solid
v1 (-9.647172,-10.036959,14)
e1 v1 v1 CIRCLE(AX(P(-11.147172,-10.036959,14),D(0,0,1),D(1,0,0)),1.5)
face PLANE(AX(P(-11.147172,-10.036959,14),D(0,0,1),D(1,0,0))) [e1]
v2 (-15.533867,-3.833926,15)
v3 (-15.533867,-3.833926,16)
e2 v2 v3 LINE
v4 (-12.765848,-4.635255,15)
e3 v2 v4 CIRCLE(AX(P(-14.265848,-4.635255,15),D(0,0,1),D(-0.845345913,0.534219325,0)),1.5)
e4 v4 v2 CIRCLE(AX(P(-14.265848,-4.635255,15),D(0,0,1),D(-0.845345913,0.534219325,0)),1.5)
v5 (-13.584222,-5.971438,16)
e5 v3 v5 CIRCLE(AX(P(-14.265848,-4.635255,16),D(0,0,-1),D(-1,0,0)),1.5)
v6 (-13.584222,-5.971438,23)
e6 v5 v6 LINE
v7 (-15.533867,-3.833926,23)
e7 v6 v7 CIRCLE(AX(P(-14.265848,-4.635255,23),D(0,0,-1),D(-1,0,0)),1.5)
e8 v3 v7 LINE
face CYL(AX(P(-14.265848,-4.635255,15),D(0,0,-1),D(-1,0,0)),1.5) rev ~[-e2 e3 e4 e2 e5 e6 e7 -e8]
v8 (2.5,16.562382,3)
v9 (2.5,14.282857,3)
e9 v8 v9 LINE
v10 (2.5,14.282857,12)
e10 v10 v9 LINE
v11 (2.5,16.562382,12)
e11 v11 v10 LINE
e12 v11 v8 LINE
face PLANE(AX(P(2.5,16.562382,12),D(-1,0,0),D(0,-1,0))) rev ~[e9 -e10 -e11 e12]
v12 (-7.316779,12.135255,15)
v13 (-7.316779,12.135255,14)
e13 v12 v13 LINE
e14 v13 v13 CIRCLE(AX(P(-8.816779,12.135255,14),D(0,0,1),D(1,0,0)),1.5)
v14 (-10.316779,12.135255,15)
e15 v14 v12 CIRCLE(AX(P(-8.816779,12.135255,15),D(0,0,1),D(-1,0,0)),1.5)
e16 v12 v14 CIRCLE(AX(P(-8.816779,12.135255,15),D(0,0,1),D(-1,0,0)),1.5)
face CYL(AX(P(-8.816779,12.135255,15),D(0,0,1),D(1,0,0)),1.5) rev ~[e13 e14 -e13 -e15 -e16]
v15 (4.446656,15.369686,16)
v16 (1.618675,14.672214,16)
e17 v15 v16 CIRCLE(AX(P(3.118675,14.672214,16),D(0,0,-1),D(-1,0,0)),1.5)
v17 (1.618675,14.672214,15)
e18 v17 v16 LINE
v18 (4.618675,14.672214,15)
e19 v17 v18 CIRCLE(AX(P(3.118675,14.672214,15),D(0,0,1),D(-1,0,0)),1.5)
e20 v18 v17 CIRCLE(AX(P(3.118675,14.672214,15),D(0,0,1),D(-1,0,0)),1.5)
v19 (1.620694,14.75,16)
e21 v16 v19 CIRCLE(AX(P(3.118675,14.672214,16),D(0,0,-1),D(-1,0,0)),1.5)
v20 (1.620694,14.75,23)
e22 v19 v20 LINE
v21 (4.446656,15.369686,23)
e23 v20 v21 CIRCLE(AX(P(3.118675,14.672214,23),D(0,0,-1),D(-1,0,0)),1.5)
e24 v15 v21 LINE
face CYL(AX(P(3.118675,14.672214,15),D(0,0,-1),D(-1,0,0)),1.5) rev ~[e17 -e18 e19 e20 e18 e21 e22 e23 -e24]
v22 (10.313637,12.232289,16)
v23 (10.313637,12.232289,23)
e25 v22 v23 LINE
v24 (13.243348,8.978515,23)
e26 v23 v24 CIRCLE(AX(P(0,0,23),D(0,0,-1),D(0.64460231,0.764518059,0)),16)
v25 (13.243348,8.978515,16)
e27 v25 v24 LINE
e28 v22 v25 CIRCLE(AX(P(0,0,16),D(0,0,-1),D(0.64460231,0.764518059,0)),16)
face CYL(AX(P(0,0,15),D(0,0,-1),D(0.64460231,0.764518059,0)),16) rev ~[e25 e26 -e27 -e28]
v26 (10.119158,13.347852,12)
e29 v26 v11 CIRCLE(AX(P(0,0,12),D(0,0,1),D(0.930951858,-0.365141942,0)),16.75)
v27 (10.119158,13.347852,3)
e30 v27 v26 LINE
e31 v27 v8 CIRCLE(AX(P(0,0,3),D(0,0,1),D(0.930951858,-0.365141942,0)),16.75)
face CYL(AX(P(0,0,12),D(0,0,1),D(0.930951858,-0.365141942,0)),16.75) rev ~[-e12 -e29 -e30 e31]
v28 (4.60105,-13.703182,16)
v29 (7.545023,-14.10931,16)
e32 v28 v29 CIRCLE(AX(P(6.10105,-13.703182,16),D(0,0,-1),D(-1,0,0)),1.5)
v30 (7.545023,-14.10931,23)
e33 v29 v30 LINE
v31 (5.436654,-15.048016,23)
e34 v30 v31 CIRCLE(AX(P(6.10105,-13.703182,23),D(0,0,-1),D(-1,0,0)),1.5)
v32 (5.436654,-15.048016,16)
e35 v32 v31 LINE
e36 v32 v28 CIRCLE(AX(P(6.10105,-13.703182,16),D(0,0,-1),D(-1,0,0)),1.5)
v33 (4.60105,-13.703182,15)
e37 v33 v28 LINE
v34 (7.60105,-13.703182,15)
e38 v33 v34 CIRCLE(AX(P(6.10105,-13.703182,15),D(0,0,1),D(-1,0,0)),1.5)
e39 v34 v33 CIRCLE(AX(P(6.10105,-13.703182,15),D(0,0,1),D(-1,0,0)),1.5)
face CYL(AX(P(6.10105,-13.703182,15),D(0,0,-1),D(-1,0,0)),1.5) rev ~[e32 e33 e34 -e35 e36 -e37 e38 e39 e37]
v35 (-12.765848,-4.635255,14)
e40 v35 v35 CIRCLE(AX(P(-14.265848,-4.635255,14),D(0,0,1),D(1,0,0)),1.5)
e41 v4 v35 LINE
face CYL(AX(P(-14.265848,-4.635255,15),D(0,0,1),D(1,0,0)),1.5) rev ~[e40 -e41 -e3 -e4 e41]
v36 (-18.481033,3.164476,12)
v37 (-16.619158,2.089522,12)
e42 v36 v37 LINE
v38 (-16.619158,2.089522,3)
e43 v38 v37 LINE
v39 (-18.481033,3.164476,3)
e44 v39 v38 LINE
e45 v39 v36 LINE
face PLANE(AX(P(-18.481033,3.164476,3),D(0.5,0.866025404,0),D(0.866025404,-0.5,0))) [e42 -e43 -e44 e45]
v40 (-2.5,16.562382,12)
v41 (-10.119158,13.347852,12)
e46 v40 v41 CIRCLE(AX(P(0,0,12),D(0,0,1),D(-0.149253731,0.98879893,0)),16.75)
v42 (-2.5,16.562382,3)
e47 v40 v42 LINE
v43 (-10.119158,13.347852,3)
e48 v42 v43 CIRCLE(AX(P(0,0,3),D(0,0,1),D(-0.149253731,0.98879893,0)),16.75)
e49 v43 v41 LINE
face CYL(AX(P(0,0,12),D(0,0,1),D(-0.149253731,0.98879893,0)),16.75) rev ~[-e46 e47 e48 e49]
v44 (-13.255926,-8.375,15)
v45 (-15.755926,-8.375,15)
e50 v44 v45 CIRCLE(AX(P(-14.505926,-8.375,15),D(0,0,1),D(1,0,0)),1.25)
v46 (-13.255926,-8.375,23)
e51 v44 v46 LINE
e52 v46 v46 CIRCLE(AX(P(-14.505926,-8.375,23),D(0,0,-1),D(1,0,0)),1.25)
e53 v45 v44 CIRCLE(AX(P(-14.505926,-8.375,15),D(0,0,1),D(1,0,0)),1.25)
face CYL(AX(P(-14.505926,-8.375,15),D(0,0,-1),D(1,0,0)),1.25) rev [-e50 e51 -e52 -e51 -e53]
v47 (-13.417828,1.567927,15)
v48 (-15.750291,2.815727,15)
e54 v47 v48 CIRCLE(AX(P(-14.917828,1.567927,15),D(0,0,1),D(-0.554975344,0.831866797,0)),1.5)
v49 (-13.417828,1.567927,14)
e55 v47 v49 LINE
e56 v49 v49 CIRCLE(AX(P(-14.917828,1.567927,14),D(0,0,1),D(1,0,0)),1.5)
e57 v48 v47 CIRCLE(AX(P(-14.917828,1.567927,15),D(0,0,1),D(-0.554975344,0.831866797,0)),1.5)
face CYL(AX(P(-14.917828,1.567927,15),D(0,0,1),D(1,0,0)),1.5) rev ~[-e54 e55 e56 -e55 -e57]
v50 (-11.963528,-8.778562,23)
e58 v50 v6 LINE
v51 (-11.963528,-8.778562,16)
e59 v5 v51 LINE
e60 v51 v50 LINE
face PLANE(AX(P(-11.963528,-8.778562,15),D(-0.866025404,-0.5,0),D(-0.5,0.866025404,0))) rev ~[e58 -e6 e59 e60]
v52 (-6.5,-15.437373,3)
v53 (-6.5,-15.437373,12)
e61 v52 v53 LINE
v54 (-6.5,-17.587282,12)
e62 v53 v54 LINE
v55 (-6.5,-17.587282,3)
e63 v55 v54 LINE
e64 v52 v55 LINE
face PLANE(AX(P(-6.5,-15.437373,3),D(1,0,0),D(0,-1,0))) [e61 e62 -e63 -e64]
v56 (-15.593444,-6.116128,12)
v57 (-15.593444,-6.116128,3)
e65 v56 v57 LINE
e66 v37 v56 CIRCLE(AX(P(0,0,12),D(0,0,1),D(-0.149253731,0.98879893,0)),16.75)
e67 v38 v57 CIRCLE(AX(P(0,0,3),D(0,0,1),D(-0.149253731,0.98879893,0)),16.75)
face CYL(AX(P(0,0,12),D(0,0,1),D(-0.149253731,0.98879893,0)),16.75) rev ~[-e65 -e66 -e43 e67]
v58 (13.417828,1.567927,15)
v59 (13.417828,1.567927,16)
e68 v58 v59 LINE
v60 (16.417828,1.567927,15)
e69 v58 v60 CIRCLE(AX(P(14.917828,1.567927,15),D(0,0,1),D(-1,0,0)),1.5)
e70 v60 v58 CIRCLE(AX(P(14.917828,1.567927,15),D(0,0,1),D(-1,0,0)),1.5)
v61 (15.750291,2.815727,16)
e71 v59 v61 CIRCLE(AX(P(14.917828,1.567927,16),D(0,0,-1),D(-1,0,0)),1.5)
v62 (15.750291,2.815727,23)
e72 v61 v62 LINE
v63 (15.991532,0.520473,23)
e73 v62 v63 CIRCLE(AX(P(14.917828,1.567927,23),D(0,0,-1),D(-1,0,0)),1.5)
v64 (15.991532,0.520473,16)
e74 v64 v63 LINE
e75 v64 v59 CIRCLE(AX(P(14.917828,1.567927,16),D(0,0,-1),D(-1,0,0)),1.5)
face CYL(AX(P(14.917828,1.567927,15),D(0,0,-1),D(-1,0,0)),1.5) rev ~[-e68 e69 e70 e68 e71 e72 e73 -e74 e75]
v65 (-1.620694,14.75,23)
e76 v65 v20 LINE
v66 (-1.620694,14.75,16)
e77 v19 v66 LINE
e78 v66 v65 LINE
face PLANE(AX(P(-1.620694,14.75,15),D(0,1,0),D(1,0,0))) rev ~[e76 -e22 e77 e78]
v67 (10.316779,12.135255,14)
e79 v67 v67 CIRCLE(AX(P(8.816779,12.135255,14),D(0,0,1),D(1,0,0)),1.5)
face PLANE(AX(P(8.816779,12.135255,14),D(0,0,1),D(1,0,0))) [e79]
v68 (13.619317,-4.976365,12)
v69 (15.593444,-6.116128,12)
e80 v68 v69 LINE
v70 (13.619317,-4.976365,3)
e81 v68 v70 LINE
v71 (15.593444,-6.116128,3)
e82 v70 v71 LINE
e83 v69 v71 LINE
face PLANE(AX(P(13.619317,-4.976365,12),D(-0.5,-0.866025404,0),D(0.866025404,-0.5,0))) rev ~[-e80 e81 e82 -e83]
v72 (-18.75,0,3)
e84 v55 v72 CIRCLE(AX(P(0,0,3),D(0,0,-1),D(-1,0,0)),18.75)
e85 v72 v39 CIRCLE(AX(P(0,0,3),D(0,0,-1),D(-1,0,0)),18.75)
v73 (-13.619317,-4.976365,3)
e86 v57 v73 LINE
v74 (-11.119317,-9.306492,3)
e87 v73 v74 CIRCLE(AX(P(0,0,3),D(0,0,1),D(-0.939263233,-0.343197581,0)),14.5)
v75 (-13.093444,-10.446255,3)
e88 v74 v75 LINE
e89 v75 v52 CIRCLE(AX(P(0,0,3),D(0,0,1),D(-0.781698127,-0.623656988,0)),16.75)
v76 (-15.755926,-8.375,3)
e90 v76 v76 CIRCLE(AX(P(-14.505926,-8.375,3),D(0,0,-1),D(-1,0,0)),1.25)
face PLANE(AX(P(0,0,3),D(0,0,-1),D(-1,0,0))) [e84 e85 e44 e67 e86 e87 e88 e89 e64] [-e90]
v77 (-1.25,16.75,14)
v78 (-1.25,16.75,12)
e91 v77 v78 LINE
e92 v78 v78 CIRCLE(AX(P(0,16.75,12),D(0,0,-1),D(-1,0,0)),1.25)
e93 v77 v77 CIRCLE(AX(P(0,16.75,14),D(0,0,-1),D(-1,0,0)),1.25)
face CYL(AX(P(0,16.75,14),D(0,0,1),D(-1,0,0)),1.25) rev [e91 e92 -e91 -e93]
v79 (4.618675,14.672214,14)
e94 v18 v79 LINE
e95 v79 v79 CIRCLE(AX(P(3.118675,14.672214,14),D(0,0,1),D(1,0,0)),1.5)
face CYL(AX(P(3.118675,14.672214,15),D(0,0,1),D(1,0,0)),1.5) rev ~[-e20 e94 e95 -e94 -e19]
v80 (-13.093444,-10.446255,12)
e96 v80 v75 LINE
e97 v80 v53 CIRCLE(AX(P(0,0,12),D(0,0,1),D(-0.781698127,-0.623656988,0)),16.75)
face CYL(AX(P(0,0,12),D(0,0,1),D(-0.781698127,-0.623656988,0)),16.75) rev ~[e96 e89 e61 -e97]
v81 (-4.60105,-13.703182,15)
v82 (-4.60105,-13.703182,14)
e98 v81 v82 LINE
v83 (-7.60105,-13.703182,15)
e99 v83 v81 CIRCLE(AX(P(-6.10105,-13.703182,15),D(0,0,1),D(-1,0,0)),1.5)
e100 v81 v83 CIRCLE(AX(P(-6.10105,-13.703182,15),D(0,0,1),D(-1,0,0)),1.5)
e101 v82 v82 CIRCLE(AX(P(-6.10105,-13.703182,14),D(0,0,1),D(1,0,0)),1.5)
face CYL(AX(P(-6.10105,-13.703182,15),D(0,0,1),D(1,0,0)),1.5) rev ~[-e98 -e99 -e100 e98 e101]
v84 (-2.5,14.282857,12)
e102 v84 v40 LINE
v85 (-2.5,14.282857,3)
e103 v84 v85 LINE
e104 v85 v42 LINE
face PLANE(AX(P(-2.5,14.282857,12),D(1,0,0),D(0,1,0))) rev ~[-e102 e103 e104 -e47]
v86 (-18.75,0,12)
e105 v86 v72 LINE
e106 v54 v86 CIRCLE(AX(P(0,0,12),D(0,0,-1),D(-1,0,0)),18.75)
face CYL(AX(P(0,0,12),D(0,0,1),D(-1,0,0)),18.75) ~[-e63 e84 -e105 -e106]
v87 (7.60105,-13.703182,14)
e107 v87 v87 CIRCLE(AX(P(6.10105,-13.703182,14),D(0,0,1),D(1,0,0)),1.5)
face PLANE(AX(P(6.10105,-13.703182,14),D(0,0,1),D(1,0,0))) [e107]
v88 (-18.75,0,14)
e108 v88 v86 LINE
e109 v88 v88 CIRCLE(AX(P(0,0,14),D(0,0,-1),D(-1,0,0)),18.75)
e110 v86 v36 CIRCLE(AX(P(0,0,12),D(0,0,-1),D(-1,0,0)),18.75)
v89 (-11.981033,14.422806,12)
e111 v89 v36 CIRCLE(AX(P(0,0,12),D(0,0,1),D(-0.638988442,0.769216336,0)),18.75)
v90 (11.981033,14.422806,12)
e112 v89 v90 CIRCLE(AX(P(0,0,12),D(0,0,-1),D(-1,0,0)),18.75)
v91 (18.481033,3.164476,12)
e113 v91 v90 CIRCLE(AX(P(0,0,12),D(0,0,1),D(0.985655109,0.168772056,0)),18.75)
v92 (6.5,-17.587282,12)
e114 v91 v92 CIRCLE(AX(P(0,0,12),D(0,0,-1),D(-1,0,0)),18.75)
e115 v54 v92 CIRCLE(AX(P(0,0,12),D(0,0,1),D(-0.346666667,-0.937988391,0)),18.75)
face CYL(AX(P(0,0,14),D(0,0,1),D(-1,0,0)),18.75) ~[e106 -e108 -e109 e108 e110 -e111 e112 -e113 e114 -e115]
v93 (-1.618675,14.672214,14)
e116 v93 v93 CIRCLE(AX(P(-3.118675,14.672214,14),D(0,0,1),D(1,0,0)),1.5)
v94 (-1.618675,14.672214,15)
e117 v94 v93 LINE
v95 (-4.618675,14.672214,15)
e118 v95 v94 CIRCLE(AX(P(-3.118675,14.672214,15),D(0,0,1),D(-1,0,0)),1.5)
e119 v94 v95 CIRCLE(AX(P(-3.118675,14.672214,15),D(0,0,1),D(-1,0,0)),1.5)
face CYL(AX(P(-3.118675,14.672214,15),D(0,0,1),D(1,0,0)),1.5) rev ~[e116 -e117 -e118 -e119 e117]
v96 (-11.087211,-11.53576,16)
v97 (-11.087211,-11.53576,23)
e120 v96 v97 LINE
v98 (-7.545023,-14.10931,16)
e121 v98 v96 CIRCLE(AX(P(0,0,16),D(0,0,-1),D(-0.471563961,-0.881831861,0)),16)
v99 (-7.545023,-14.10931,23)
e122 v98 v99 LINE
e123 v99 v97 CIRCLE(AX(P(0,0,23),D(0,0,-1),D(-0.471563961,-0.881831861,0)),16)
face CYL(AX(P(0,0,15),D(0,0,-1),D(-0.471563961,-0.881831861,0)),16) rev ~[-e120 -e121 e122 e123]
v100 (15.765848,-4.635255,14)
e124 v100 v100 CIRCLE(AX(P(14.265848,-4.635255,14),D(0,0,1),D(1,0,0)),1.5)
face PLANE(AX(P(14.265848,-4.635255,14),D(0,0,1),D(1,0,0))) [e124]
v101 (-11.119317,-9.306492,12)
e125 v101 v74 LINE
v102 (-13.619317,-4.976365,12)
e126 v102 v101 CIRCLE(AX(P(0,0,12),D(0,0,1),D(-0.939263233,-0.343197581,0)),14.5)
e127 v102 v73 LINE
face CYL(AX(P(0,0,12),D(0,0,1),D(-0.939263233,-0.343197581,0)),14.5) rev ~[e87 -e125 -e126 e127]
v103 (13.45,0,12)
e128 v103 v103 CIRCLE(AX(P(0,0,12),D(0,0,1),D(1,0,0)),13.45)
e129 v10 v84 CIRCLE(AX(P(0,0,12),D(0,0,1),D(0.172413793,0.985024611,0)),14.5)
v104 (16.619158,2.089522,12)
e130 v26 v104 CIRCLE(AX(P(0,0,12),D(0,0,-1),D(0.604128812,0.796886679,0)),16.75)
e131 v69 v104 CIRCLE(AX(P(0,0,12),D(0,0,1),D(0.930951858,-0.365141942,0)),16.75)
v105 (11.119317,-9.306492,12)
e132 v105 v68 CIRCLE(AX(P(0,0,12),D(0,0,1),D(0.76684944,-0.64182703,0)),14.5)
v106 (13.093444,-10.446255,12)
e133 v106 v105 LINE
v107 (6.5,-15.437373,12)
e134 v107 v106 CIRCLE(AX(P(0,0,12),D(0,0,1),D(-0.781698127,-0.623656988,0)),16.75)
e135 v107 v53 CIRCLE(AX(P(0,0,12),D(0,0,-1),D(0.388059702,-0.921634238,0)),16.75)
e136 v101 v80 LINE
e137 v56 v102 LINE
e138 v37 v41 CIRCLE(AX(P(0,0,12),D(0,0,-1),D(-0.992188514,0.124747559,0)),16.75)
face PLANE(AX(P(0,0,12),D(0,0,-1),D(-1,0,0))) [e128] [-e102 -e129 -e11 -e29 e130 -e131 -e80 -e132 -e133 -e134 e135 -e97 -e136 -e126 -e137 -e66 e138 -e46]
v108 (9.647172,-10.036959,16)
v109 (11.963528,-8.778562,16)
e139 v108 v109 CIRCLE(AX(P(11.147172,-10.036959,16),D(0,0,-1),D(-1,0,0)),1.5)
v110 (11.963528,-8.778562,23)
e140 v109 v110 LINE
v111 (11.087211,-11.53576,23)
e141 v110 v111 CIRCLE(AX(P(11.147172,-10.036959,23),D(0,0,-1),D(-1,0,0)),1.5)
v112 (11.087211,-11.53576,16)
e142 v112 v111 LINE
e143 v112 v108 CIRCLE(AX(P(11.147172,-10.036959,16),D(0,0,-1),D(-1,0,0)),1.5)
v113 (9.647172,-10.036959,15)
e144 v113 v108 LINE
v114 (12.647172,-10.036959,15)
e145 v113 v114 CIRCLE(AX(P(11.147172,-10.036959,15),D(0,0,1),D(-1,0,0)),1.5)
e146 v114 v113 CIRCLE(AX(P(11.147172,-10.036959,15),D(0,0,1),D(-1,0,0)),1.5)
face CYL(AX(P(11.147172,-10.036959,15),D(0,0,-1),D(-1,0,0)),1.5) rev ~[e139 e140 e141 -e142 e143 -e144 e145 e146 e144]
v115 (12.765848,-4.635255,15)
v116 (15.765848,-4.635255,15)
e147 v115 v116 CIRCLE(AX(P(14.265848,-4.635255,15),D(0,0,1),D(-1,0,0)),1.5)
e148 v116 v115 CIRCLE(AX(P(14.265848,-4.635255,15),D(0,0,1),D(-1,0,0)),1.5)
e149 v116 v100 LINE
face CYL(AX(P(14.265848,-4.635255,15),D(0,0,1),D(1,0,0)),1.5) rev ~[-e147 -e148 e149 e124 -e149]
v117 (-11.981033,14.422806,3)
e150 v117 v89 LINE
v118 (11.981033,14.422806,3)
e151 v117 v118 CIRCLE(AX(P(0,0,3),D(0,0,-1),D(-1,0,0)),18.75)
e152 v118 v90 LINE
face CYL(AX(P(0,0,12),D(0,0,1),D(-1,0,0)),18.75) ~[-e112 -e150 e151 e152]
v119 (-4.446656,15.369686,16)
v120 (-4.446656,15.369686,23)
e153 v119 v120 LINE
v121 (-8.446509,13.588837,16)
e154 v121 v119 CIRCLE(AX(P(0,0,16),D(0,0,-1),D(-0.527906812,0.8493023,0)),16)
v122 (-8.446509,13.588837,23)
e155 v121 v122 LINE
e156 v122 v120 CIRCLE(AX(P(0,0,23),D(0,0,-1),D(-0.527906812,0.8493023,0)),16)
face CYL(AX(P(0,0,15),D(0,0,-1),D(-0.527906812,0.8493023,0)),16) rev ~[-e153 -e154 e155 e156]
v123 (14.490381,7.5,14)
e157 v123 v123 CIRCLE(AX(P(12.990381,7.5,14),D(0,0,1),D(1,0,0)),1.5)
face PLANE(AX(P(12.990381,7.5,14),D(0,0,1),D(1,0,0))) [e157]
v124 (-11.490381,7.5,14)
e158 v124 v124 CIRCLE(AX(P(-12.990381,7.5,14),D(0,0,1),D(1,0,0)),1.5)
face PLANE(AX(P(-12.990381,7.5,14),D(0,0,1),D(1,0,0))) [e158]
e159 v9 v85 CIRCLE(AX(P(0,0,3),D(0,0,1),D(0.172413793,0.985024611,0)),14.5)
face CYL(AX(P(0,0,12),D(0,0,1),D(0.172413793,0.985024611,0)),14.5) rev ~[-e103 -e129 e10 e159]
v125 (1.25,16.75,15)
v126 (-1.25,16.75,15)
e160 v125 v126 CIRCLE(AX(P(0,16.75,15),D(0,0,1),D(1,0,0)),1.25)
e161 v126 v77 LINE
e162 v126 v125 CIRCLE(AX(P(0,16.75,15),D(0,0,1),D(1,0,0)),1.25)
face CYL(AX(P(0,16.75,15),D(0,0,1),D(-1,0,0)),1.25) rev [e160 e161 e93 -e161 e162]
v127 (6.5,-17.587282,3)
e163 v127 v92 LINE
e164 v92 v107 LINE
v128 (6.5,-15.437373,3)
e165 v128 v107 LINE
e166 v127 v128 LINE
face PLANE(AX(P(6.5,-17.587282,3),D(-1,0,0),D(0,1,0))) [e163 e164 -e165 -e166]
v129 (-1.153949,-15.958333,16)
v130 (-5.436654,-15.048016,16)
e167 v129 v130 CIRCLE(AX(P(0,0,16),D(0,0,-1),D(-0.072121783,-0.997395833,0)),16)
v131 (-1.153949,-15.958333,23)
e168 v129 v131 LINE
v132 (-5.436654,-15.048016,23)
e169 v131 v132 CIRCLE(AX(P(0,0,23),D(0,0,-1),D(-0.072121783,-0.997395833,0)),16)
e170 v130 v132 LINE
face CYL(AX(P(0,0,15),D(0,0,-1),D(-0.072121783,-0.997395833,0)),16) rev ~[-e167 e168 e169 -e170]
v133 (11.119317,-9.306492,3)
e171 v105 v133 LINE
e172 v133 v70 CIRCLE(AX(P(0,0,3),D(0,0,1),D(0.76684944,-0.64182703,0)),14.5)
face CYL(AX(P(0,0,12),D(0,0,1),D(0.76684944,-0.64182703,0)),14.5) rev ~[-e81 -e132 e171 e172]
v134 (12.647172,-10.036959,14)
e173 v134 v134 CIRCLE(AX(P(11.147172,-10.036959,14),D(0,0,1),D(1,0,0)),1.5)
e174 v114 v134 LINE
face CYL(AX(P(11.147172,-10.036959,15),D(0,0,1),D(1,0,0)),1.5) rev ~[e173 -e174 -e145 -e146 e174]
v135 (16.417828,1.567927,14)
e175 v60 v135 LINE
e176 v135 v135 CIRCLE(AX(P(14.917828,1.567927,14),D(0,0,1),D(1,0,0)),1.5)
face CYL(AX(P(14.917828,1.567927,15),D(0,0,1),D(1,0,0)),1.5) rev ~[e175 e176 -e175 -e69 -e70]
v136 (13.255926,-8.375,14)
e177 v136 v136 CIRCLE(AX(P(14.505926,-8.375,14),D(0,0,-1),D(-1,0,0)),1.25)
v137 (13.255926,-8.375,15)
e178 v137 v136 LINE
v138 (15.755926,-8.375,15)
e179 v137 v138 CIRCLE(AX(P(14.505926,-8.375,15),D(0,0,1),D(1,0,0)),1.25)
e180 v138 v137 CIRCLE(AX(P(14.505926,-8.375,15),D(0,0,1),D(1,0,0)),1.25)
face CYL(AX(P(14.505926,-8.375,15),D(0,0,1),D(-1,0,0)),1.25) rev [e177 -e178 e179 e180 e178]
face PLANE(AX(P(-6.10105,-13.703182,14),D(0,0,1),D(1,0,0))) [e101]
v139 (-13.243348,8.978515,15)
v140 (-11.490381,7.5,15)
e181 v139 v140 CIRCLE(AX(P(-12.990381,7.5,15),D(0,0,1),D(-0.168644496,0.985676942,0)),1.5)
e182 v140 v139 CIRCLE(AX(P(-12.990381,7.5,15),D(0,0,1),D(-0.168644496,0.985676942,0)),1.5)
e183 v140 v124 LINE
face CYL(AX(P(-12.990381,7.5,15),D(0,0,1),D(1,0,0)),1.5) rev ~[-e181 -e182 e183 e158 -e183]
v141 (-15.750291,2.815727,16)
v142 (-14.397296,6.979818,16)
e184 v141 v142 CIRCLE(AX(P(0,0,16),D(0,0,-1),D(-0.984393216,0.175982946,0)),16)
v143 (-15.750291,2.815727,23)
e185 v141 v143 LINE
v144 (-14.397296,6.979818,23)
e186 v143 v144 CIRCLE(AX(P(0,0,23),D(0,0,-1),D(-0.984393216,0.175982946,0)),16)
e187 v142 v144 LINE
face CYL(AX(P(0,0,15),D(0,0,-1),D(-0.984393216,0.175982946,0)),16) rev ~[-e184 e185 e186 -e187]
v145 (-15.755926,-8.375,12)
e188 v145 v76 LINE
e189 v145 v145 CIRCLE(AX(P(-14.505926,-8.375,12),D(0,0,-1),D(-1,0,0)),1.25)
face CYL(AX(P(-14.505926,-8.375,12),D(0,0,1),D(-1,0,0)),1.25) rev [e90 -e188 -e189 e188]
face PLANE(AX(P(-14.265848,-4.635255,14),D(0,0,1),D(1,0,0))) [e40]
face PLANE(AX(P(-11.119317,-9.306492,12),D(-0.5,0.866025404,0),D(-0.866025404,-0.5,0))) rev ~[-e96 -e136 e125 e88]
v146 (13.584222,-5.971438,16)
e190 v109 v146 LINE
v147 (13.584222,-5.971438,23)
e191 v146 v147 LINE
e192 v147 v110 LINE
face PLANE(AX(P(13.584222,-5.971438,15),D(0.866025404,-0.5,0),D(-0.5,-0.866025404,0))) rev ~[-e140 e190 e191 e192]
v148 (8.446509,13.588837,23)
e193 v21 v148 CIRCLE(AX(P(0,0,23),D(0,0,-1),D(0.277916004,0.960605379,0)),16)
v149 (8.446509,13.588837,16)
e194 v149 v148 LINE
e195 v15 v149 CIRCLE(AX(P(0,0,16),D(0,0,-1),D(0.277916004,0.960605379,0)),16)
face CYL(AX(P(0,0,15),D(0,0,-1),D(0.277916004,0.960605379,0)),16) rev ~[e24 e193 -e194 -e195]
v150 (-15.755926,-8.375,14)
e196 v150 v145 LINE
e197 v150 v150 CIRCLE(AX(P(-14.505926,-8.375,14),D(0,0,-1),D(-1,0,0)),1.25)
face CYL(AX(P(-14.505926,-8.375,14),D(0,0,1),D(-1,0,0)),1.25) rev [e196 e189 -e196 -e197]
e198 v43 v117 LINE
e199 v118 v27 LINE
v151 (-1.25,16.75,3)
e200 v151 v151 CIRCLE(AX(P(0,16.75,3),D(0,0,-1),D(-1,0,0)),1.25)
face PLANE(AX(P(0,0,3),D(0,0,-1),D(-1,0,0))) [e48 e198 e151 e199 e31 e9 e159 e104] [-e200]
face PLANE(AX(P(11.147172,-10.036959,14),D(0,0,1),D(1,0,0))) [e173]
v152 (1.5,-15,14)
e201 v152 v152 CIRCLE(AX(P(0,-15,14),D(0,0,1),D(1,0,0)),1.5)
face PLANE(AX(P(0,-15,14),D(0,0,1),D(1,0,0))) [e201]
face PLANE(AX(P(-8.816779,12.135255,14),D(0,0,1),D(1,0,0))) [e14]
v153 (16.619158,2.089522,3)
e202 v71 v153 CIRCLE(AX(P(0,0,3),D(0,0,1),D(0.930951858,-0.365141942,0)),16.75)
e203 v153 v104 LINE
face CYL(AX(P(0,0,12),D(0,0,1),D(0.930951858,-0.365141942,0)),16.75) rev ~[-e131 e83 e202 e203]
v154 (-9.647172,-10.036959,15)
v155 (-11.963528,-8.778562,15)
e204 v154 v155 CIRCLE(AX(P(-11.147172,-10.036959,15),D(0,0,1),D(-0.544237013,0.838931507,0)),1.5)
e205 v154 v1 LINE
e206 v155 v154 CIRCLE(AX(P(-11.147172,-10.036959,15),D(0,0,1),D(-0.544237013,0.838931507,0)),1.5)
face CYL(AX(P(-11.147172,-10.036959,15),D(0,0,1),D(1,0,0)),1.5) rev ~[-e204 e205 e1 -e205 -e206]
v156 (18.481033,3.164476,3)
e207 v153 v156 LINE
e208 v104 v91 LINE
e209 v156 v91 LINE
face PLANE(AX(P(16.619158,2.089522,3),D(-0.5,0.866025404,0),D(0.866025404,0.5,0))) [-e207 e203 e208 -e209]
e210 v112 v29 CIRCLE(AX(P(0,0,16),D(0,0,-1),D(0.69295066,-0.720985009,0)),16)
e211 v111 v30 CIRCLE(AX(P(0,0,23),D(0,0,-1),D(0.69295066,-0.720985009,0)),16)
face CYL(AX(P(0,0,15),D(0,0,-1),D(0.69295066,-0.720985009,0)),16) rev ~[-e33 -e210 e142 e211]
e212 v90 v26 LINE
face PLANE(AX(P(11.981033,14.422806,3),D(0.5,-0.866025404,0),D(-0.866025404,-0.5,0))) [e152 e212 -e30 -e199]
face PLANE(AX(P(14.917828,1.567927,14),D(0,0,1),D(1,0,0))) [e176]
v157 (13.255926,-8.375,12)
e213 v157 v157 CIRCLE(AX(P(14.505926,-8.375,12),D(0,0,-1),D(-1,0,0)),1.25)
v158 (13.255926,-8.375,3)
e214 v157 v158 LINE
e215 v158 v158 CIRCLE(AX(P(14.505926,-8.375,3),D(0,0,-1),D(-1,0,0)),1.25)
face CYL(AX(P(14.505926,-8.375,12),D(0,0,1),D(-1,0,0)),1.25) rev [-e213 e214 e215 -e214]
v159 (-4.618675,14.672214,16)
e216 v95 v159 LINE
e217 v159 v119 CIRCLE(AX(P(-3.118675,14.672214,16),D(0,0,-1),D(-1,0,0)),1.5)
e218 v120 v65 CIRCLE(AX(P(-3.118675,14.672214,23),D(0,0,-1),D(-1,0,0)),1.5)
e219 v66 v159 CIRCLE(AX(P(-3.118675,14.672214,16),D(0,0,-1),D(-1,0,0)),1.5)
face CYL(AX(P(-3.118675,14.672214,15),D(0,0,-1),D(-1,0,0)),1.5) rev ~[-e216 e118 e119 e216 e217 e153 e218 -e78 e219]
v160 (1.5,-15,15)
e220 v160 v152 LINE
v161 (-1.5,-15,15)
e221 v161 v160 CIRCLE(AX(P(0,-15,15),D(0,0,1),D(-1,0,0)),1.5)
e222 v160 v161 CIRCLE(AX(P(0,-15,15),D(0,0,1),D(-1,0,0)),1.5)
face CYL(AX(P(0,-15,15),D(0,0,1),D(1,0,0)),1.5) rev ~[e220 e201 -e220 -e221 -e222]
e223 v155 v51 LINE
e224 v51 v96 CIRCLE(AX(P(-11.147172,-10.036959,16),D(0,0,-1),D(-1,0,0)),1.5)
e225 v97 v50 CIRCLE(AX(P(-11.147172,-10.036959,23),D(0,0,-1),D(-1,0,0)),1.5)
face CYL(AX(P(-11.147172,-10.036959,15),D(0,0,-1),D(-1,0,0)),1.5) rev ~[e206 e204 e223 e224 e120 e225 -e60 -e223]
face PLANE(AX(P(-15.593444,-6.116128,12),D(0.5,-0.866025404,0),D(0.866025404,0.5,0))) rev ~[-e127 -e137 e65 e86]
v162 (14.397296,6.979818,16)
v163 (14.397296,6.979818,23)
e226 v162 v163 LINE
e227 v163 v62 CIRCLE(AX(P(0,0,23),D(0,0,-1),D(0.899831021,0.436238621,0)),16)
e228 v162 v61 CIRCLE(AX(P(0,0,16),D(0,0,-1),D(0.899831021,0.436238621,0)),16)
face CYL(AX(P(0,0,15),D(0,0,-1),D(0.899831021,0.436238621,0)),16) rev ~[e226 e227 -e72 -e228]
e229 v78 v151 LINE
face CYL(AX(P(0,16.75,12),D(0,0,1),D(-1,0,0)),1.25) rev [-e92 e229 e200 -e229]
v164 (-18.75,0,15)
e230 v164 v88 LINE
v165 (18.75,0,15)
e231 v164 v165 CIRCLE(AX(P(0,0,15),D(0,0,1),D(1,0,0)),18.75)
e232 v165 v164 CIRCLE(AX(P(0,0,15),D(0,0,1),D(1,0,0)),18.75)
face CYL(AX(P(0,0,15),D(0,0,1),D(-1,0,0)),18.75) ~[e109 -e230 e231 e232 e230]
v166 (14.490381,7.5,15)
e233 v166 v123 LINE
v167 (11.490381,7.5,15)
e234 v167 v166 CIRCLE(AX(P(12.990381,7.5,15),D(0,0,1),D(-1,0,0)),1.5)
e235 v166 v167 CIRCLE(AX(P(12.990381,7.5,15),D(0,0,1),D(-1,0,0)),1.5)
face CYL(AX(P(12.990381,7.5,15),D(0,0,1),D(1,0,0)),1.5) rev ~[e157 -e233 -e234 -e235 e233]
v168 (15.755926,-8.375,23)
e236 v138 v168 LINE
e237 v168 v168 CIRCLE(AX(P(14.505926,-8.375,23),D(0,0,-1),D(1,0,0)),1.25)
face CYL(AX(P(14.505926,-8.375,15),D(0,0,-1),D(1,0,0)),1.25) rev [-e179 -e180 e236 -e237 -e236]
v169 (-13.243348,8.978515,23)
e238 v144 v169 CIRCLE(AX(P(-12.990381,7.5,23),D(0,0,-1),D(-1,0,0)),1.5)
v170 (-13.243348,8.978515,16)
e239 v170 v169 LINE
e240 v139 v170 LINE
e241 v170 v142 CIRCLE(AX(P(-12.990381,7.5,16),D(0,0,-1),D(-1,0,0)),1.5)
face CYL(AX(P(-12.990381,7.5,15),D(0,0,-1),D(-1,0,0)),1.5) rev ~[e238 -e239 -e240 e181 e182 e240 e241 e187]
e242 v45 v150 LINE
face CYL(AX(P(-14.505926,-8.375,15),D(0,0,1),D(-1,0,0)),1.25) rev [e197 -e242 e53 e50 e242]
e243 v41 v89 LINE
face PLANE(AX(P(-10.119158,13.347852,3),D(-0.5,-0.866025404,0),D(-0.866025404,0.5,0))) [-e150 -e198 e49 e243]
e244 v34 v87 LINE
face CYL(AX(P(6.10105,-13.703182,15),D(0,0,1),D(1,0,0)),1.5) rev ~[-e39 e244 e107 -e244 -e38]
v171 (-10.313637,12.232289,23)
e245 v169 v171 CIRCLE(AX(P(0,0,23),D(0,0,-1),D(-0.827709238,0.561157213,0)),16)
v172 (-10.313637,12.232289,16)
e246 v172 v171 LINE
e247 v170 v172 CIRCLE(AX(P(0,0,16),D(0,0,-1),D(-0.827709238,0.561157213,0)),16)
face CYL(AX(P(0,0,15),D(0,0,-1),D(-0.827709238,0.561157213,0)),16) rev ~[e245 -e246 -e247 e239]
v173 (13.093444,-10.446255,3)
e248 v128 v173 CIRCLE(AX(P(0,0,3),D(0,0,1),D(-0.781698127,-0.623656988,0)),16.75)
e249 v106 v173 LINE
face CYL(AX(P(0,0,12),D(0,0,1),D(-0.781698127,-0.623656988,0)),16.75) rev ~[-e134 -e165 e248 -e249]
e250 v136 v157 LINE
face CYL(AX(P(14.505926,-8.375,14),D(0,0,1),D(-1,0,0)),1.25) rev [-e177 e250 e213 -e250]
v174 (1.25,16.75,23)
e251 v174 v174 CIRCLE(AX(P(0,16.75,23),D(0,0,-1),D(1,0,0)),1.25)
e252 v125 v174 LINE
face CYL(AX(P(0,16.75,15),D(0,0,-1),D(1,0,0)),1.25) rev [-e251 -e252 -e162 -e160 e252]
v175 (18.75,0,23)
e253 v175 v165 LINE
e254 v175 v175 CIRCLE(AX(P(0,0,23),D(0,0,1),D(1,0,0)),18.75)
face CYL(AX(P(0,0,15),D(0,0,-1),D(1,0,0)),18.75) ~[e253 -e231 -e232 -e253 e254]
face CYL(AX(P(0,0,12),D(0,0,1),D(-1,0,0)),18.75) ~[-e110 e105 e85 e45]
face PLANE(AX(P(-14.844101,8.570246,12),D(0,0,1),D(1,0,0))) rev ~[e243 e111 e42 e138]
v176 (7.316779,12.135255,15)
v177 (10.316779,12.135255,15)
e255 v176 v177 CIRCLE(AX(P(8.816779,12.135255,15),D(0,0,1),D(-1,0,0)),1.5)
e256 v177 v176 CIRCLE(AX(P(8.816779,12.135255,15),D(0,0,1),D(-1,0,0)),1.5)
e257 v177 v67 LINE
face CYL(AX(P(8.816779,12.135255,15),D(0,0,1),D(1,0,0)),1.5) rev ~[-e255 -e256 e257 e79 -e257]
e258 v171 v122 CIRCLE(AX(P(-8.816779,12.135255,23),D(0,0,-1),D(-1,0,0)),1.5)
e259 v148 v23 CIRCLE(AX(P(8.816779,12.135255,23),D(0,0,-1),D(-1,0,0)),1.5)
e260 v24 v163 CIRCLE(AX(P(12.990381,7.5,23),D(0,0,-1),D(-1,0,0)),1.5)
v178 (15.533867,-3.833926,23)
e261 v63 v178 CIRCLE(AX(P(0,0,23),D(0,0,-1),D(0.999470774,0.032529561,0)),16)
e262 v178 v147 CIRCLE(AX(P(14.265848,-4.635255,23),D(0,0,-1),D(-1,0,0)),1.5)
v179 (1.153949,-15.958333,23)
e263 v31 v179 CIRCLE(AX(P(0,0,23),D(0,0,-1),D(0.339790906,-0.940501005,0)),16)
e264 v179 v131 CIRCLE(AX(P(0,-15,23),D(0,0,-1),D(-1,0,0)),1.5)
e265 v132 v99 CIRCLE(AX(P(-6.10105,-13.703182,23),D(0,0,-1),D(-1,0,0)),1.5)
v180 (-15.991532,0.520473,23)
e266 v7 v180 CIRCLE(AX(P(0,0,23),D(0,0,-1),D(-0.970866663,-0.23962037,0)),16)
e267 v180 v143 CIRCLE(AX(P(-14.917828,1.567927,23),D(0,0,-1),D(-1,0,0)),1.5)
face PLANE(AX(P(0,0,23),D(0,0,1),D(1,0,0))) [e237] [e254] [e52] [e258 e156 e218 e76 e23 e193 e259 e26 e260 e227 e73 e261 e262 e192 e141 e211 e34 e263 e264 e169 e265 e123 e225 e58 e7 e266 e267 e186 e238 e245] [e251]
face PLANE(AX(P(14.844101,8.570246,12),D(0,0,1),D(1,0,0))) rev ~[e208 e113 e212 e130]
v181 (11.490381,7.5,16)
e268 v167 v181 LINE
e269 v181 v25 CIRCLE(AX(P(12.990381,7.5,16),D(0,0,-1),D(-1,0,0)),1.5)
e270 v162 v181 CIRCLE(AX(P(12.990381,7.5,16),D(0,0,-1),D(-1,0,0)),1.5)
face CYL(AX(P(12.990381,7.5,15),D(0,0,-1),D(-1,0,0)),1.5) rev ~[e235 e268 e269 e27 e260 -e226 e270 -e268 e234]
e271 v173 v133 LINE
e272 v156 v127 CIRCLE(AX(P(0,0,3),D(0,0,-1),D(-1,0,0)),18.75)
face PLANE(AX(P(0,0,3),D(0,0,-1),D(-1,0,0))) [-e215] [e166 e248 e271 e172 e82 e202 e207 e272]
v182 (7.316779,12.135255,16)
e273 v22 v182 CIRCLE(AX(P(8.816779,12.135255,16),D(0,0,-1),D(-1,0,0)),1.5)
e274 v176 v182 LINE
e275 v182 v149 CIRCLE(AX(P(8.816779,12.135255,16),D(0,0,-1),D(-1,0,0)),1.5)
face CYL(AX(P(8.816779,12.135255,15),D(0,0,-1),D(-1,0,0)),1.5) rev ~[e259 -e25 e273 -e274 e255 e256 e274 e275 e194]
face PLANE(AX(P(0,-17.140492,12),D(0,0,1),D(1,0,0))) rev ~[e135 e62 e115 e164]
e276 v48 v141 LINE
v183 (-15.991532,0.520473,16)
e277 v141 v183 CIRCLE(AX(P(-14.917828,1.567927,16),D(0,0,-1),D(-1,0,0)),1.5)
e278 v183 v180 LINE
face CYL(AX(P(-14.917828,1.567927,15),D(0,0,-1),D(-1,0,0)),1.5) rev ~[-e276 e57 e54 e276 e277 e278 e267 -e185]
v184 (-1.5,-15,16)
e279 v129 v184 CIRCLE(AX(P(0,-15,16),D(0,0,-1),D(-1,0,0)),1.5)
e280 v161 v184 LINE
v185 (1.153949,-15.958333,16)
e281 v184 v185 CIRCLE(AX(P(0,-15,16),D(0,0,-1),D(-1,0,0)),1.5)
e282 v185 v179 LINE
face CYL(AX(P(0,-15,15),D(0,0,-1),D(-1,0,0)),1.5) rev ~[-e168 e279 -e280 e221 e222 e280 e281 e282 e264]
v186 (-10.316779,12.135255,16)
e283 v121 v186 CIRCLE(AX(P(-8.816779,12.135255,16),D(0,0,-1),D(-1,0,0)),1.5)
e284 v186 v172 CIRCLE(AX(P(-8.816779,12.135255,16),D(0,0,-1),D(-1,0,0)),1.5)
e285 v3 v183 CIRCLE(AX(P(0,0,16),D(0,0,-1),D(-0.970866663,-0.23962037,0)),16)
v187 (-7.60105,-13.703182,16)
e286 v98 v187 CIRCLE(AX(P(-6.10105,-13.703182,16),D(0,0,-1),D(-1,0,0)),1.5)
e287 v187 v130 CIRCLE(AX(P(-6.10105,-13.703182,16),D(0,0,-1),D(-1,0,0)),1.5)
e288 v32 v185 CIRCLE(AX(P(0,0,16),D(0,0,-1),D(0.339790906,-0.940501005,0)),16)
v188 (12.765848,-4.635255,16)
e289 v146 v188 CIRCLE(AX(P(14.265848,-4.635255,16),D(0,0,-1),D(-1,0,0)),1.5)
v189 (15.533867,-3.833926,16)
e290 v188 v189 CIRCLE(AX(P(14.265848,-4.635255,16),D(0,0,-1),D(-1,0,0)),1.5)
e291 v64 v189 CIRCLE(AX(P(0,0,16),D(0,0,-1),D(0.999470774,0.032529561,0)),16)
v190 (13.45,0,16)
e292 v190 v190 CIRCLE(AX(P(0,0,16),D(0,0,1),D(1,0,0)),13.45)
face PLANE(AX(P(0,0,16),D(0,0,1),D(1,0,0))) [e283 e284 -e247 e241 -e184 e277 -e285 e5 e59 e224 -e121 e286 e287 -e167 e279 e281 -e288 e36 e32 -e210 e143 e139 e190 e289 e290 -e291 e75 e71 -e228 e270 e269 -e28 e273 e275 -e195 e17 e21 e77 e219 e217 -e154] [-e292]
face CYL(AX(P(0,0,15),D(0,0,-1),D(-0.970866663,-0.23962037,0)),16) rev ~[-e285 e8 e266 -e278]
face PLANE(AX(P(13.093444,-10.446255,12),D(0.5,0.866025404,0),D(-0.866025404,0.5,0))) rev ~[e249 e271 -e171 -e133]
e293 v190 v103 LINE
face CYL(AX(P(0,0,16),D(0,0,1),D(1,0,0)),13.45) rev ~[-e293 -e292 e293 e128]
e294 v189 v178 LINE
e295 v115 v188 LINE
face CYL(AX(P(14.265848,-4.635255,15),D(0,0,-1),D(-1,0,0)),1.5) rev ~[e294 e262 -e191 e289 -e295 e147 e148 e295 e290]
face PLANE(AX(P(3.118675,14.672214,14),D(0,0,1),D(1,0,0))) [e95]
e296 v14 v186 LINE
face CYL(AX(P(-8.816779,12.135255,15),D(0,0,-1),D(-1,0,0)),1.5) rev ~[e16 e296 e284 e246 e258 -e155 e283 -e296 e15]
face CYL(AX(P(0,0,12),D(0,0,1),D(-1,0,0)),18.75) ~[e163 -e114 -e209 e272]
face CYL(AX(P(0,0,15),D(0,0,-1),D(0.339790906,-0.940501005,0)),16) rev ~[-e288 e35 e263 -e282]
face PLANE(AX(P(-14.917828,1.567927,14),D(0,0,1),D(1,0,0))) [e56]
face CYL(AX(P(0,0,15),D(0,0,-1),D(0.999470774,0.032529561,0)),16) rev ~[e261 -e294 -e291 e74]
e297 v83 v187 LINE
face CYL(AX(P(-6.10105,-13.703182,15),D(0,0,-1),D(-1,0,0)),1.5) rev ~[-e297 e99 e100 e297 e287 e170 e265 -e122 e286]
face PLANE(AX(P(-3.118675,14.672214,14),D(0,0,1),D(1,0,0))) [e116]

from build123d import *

# Parameters (mm, degrees)
SKETCH_1_R          = 18.75
SKETCH_1_R_2        = 1.25
SKETCH_1_R_3        = 14.75
EXTRUDE_1_DEPTH     = 15
CUT_EXTRUDE_1_DEPTH = 15
SKETCH_3_R          = 18.75
SKETCH_3_R_2        = 1.25
EXTRUDE_4_DEPTH     = 10
SKETCH_5_R          = 18.75
CUT_EXTRUDE_2_DEPTH = 15
SKETCH_6_R          = 1.5
CUT_EXTRUDE_3_DEPTH = 10
SKETCH_7_R          = 18.75
SKETCH_7_R_2        = 12
SKETCH_7_R_3        = 1.5
SKETCH_7_R_4        = 1.25
EXTRUDE_5_DEPTH     = 1
SKETCH_9_R          = 18.75
SKETCH_9_R_2        = 12
SKETCH_9_R_3        = 1.25
EXTRUDE_6_DEPTH     = 1
SKETCH_10_R         = 12
SKETCH_10_R_2       = 11.5
EXTRUDE_7_DEPTH     = 2
SKETCH_13_R         = 18.75
SKETCH_13_R_2       = 11.5
SKETCH_13_R_3       = 1.25
EXTRUDE_9_DEPTH     = 2
SKETCH_14_R         = 18.75
CUT_EXTRUDE_4_DEPTH = 2
SKETCH_15_R         = 18.75
SKETCH_15_R_2       = 1.25
EXTRUDE_10_DEPTH    = 9
CUT_EXTRUDE_6_DEPTH = 9
SKETCH_17_R         = 13.45
CUT_EXTRUDE_8_DEPTH = 10
SKETCH_18_R         = 1.5
CUT_EXTRUDE_9_DEPTH = 1


with BuildPart() as part:
    # 草图1 → 凸台-拉伸1 (new body)
    with BuildSketch(Plane.XY):
        Circle(SKETCH_1_R)
        with Locations((0, 16.75)):
            Circle(SKETCH_1_R_2, mode=Mode.SUBTRACT)
        with Locations((14.505925513, -8.375)):
            Circle(SKETCH_1_R_2, mode=Mode.SUBTRACT)
        with Locations((-14.505925513, -8.375)):
            Circle(SKETCH_1_R_2, mode=Mode.SUBTRACT)
        Circle(SKETCH_1_R_3, mode=Mode.SUBTRACT)
    extrude(amount=EXTRUDE_1_DEPTH)

    # 草图2 → 切除-拉伸1 (cut)
    with BuildSketch(Plane.XY.offset(15)):
        with BuildLine():
            Line((3, 14.75), (1.9e-08, 14.75))
            ThreePointArc((1.9e-08, 14.75), (10.429825029, 10.429825016), (14.75, 0))
            ThreePointArc((14.75, 0), (14.247405929, -3.817580949), (12.773874671, -7.375000061))
            Line((12.773874671, -7.375000061), (14.273874706, -4.776923789))
            Line((14.273874706, -4.776923789), (16.789664748, -2.665925293))
            ThreePointArc((16.789664748, -2.665925293), (14.722431864, 8.5), (6.086073346, 15.873238839))
            Line((6.086073346, 15.873238839), (3, 14.75))
        make_face()
        with BuildLine():
            ThreePointArc((12.773874671, -7.375000061), (-8.5e-08, -14.75), (-12.773874756, -7.374999914))
            Line((-12.773874756, -7.374999914), (-11.273874706, -9.973076211))
            Line((-11.273874706, -9.973076211), (-10.703591402, -13.207313546))
            ThreePointArc((-10.703591402, -13.207313546), (0, -17), (10.703591402, -13.207313546))
            Line((10.703591402, -13.207313546), (11.273874706, -9.973076211))
            Line((11.273874706, -9.973076211), (12.773874671, -7.375000061))
        make_face()
        with BuildLine():
            Line((1.9e-08, 14.75), (-3, 14.75))
            Line((-3, 14.75), (-6.086073346, 15.873238839))
            ThreePointArc((-6.086073346, 15.873238839), (-14.722431864, 8.5), (-16.789664748, -2.665925293))
            Line((-16.789664748, -2.665925293), (-14.273874706, -4.776923789))
            Line((-14.273874706, -4.776923789), (-12.773874756, -7.374999914))
            ThreePointArc((-12.773874756, -7.374999914), (-12.773874676, 7.375000052), (1.9e-08, 14.75))
        make_face()
    extrude(amount=-CUT_EXTRUDE_1_DEPTH, mode=Mode.SUBTRACT)

    # 草图3 → 凸台-拉伸4 (add)
    with BuildSketch(Plane.XY.offset(15)):
        Circle(SKETCH_3_R)
        with Locations((14.505925513, -8.375)):
            Circle(SKETCH_3_R_2, mode=Mode.SUBTRACT)
        with Locations((0, 16.75)):
            Circle(SKETCH_3_R_2, mode=Mode.SUBTRACT)
        with Locations((-14.505925513, -8.375)):
            Circle(SKETCH_3_R_2, mode=Mode.SUBTRACT)
        with BuildLine():
            Line((-11.963527902, -8.778561835), (-13.584221509, -5.971438165))
            ThreePointArc((-13.584221509, -5.971438165), (-13.157604215, -3.624415522), (-15.533866614, -3.833925928))
            ThreePointArc((-15.533866614, -3.833925928), (-15.912350326, -1.672455412), (-15.991532381, 0.520472975))
            ThreePointArc((-15.991532381, 0.520472975), (-13.426045587, 1.411134254), (-15.750291446, 2.815727144))
            ThreePointArc((-15.750291446, 2.815727144), (-15.216904261, 4.94427191), (-14.397296336, 6.97981792))
            ThreePointArc((-14.397296336, 6.97981792), (-11.691342951, 6.75), (-13.243347801, 8.978515413))
            ThreePointArc((-13.243347801, 8.978515413), (-11.890317208, 10.706089702), (-10.31363696, 12.232288938))
            ThreePointArc((-10.31363696, 12.232288938), (-7.935100906, 10.921729424), (-8.446509009, 13.5888368))
            ThreePointArc((-8.446509009, 13.5888368), (-6.507786289, 14.616727322), (-4.446656057, 15.369686071))
            ThreePointArc((-4.446656057, 15.369686071), (-3.439966191, 13.207027264), (-1.620693607, 14.75))
            Line((-1.620693607, 14.75), (1.620693607, 14.75))
            ThreePointArc((1.620693607, 14.75), (3.439966191, 13.207027264), (4.446656057, 15.369686071))
            ThreePointArc((4.446656057, 15.369686071), (6.507786289, 14.616727322), (8.446509009, 13.5888368))
            ThreePointArc((8.446509009, 13.5888368), (7.935100906, 10.921729424), (10.31363696, 12.232288938))
            ThreePointArc((10.31363696, 12.232288938), (11.890317208, 10.706089702), (13.243347801, 8.978515413))
            ThreePointArc((13.243347801, 8.978515413), (11.691342951, 6.75), (14.397296336, 6.97981792))
            ThreePointArc((14.397296336, 6.97981792), (15.216904261, 4.94427191), (15.750291446, 2.815727144))
            ThreePointArc((15.750291446, 2.815727144), (13.426045587, 1.411134254), (15.991532381, 0.520472975))
            ThreePointArc((15.991532381, 0.520472975), (15.912350326, -1.672455412), (15.533866614, -3.833925928))
            ThreePointArc((15.533866614, -3.833925928), (13.157604215, -3.624415522), (13.584221509, -5.971438165))
            Line((13.584221509, -5.971438165), (11.963527902, -8.778561835))
            ThreePointArc((11.963527902, -8.778561835), (9.717638024, -9.582611742), (11.087210557, -11.535760143))
            ThreePointArc((11.087210557, -11.535760143), (9.404564037, -12.94427191), (7.545023372, -14.109309775))
            ThreePointArc((7.545023372, -14.109309775), (5.490944682, -12.332863678), (5.436654486, -15.048016082))
            ThreePointArc((5.436654486, -15.048016082), (3.326587053, -15.650361612), (1.153948535, -15.958333333))
            ThreePointArc((1.153948535, -15.958333333), (0, -13.5), (-1.153948535, -15.958333333))
            ThreePointArc((-1.153948535, -15.958333333), (-3.326587053, -15.650361612), (-5.436654486, -15.048016082))
            ThreePointArc((-5.436654486, -15.048016082), (-5.490944682, -12.332863678), (-7.545023372, -14.109309775))
            ThreePointArc((-7.545023372, -14.109309775), (-9.404564037, -12.94427191), (-11.087210557, -11.535760143))
            ThreePointArc((-11.087210557, -11.535760143), (-9.717638024, -9.582611742), (-11.963527902, -8.778561835))
        make_face(mode=Mode.SUBTRACT)
    extrude(amount=EXTRUDE_4_DEPTH)

    # 草图5 → 切除-拉伸2 (cut)
    with BuildSketch(Plane.XY):
        Circle(SKETCH_5_R)
    extrude(amount=CUT_EXTRUDE_2_DEPTH, mode=Mode.SUBTRACT)

    # 草图6 → 切除-拉伸3 (cut)
    with BuildSketch(Plane(origin=(0, 0, 15), x_dir=(-1, 0, 0), z_dir=(0, 0, -1))):
        with Locations((3.118675362, 14.672214011)):
            Circle(SKETCH_6_R)
        with Locations((8.816778784, 12.135254916)):
            Circle(SKETCH_6_R)
        with Locations((12.990381057, 7.5)):
            Circle(SKETCH_6_R)
        with Locations((14.917828431, 1.567926949)):
            Circle(SKETCH_6_R)
        with Locations((14.265847744, -4.635254916)):
            Circle(SKETCH_6_R)
        with Locations((11.147172382, -10.036959095)):
            Circle(SKETCH_6_R)
        with Locations((6.101049646, -13.703181865)):
            Circle(SKETCH_6_R)
        with Locations((0, -15)):
            Circle(SKETCH_6_R)
        with Locations((-6.101049646, -13.703181865)):
            Circle(SKETCH_6_R)
        with Locations((-11.147172382, -10.036959095)):
            Circle(SKETCH_6_R)
        with Locations((-14.265847744, -4.635254916)):
            Circle(SKETCH_6_R)
        with Locations((-14.917828431, 1.567926949)):
            Circle(SKETCH_6_R)
        with Locations((-12.990381057, 7.5)):
            Circle(SKETCH_6_R)
        with Locations((-8.816778784, 12.135254916)):
            Circle(SKETCH_6_R)
        with Locations((-3.118675362, 14.672214011)):
            Circle(SKETCH_6_R)
    extrude(amount=-CUT_EXTRUDE_3_DEPTH, mode=Mode.SUBTRACT)

    # 草图7 → 凸台-拉伸5 (add)
    with BuildSketch(Plane(origin=(0, 0, 15), x_dir=(-1, 0, 0), z_dir=(0, 0, -1))):
        Circle(SKETCH_7_R)
        Circle(SKETCH_7_R_2, mode=Mode.SUBTRACT)
        with Locations((3.118675362, 14.672214011)):
            Circle(SKETCH_7_R_3, mode=Mode.SUBTRACT)
        with Locations((8.816778784, 12.135254916)):
            Circle(SKETCH_7_R_3, mode=Mode.SUBTRACT)
        with Locations((12.990381057, 7.5)):
            Circle(SKETCH_7_R_3, mode=Mode.SUBTRACT)
        with Locations((14.917828431, 1.567926949)):
            Circle(SKETCH_7_R_3, mode=Mode.SUBTRACT)
        with Locations((14.265847744, -4.635254916)):
            Circle(SKETCH_7_R_3, mode=Mode.SUBTRACT)
        with Locations((11.147172382, -10.036959095)):
            Circle(SKETCH_7_R_3, mode=Mode.SUBTRACT)
        with Locations((6.101049646, -13.703181865)):
            Circle(SKETCH_7_R_3, mode=Mode.SUBTRACT)
        with Locations((0, -15)):
            Circle(SKETCH_7_R_3, mode=Mode.SUBTRACT)
        with Locations((-6.101049646, -13.703181865)):
            Circle(SKETCH_7_R_3, mode=Mode.SUBTRACT)
        with Locations((-11.147172382, -10.036959095)):
            Circle(SKETCH_7_R_3, mode=Mode.SUBTRACT)
        with Locations((-14.265847744, -4.635254916)):
            Circle(SKETCH_7_R_3, mode=Mode.SUBTRACT)
        with Locations((-14.917828431, 1.567926949)):
            Circle(SKETCH_7_R_3, mode=Mode.SUBTRACT)
        with Locations((-12.990381057, 7.5)):
            Circle(SKETCH_7_R_3, mode=Mode.SUBTRACT)
        with Locations((-8.816778784, 12.135254916)):
            Circle(SKETCH_7_R_3, mode=Mode.SUBTRACT)
        with Locations((-3.118675362, 14.672214011)):
            Circle(SKETCH_7_R_3, mode=Mode.SUBTRACT)
        with Locations((14.505925513, -8.375)):
            Circle(SKETCH_7_R_4, mode=Mode.SUBTRACT)
        with Locations((-14.505925513, -8.375)):
            Circle(SKETCH_7_R_4, mode=Mode.SUBTRACT)
        with Locations((0, 16.75)):
            Circle(SKETCH_7_R_4, mode=Mode.SUBTRACT)
    extrude(amount=-EXTRUDE_5_DEPTH)

    # 草图9 → 凸台-拉伸6 (add)
    with BuildSketch(Plane(origin=(0, 0, 15), x_dir=(-1, 0, 0), z_dir=(0, 0, -1))):
        Circle(SKETCH_9_R)
        Circle(SKETCH_9_R_2, mode=Mode.SUBTRACT)
        with Locations((0, 16.75)):
            Circle(SKETCH_9_R_3, mode=Mode.SUBTRACT)
        with Locations((-14.505925513, -8.375)):
            Circle(SKETCH_9_R_3, mode=Mode.SUBTRACT)
        with Locations((14.505925513, -8.375)):
            Circle(SKETCH_9_R_3, mode=Mode.SUBTRACT)
    extrude(amount=EXTRUDE_6_DEPTH)

    # 草图10 → 凸台-拉伸7 (add)
    with BuildSketch(Plane.XY.offset(16)):
        Circle(SKETCH_10_R)
        Circle(SKETCH_10_R_2, mode=Mode.SUBTRACT)
    extrude(amount=-EXTRUDE_7_DEPTH)

    # 草图13 → 凸台-拉伸9 (add)
    with BuildSketch(Plane(origin=(0, 0, 14), x_dir=(-1, 0, 0), z_dir=(0, 0, -1))):
        Circle(SKETCH_13_R)
        Circle(SKETCH_13_R_2, mode=Mode.SUBTRACT)
        with Locations((0, 16.75)):
            Circle(SKETCH_13_R_3, mode=Mode.SUBTRACT)
        with Locations((-14.505925513, -8.375)):
            Circle(SKETCH_13_R_3, mode=Mode.SUBTRACT)
        with Locations((14.505925513, -8.375)):
            Circle(SKETCH_13_R_3, mode=Mode.SUBTRACT)
    extrude(amount=EXTRUDE_9_DEPTH)

    # 草图14 → 切除-拉伸4 (cut)
    with BuildSketch(Plane.XY.offset(25)):
        Circle(SKETCH_14_R)
    extrude(amount=-CUT_EXTRUDE_4_DEPTH, mode=Mode.SUBTRACT)

    # 草图15 → 凸台-拉伸10 (add)
    with BuildSketch(Plane(origin=(0, 0, 12), x_dir=(-1, 0, 0), z_dir=(0, 0, -1))):
        Circle(SKETCH_15_R)
        with Locations((14.505925513, -8.375)):
            Circle(SKETCH_15_R_2, mode=Mode.SUBTRACT)
        with Locations((0, 16.75)):
            Circle(SKETCH_15_R_2, mode=Mode.SUBTRACT)
        with Locations((-14.505925513, -8.375)):
            Circle(SKETCH_15_R_2, mode=Mode.SUBTRACT)
        with BuildLine():
            Line((11.119316877, -9.306491938), (13.093443624, -10.446254547))
            ThreePointArc((13.093443624, -10.446254547), (0, -16.75), (-13.093443624, -10.446254547))
            Line((-13.093443624, -10.446254547), (-11.119316877, -9.306491938))
            ThreePointArc((-11.119316877, -9.306491938), (-12.557368355, -7.25), (-13.619316877, -4.976364919))
            Line((-13.619316877, -4.976364919), (-15.593443624, -6.116127528))
            ThreePointArc((-15.593443624, -6.116127528), (-14.505925513, 8.375), (-2.5, 16.562382075))
            Line((-2.5, 16.562382075), (-2.5, 14.282856857))
            ThreePointArc((-2.5, 14.282856857), (0, 14.5), (2.5, 14.282856857))
            Line((2.5, 14.282856857), (2.5, 16.562382075))
            ThreePointArc((2.5, 16.562382075), (14.505925513, 8.375), (15.593443624, -6.116127528))
            Line((15.593443624, -6.116127528), (13.619316877, -4.976364919))
            ThreePointArc((13.619316877, -4.976364919), (12.557368355, -7.25), (11.119316877, -9.306491938))
        make_face(mode=Mode.SUBTRACT)
    extrude(amount=EXTRUDE_10_DEPTH)

    # 草图16 → 切除-拉伸6 (cut)
    with BuildSketch(Plane(origin=(0, 0, 3), x_dir=(-1, 0, 0), z_dir=(0, 0, -1))):
        with BuildLine():
            Line((-16.619157602, 2.089521616), (-18.481033287, 3.164476044))
            ThreePointArc((-18.481033287, 3.164476044), (-16.237976321, 9.375), (-11.981033287, 14.422806293))
            Line((-11.981033287, 14.422806293), (-10.119157602, 13.347851865))
            ThreePointArc((-10.119157602, 13.347851865), (-14.505925513, 8.375), (-16.619157602, 2.089521616))
        make_face()
        with BuildLine():
            Line((6.5, -15.437373481), (6.5, -17.587282337))
            ThreePointArc((6.5, -17.587282337), (0, -18.75), (-6.5, -17.587282337))
            Line((-6.5, -17.587282337), (-6.5, -15.437373481))
            ThreePointArc((-6.5, -15.437373481), (0, -16.75), (6.5, -15.437373481))
        make_face()
        with BuildLine():
            Line((10.119157602, 13.347851865), (11.981033287, 14.422806293))
            ThreePointArc((11.981033287, 14.422806293), (16.237976321, 9.375), (18.481033287, 3.164476044))
            Line((18.481033287, 3.164476044), (16.619157602, 2.089521616))
            ThreePointArc((16.619157602, 2.089521616), (14.505925513, 8.375), (10.119157602, 13.347851865))
        make_face()
    extrude(amount=-CUT_EXTRUDE_6_DEPTH, mode=Mode.SUBTRACT)

    # 草图17 → 切除-拉伸8 (cut)
    with BuildSketch(Plane.XY.offset(16)):
        Circle(SKETCH_17_R)
    extrude(amount=-CUT_EXTRUDE_8_DEPTH, mode=Mode.SUBTRACT)

    # 草图18 → 切除-拉伸9 (cut)
    with BuildSketch(Plane.XY.offset(15)):
        with Locations((14.265847744, -4.635254916)):
            Circle(SKETCH_18_R)
        with Locations((11.147172382, -10.036959095)):
            Circle(SKETCH_18_R)
        with Locations((6.101049646, -13.703181865)):
            Circle(SKETCH_18_R)
        with Locations((0, -15)):
            Circle(SKETCH_18_R)
        with Locations((-6.101049646, -13.703181865)):
            Circle(SKETCH_18_R)
        with Locations((-11.147172382, -10.036959095)):
            Circle(SKETCH_18_R)
        with Locations((-14.265847744, -4.635254916)):
            Circle(SKETCH_18_R)
        with Locations((-14.917828431, 1.567926949)):
            Circle(SKETCH_18_R)
        with Locations((-12.990381057, 7.5)):
            Circle(SKETCH_18_R)
        with Locations((-8.816778784, 12.135254916)):
            Circle(SKETCH_18_R)
        with Locations((-3.118675362, 14.672214011)):
            Circle(SKETCH_18_R)
        with Locations((3.118675362, 14.672214011)):
            Circle(SKETCH_18_R)
        with Locations((8.816778784, 12.135254916)):
            Circle(SKETCH_18_R)
        with Locations((12.990381057, 7.5)):
            Circle(SKETCH_18_R)
        with Locations((14.917828431, 1.567926949)):
            Circle(SKETCH_18_R)
    extrude(amount=-CUT_EXTRUDE_9_DEPTH, mode=Mode.SUBTRACT)


solid = part.part
